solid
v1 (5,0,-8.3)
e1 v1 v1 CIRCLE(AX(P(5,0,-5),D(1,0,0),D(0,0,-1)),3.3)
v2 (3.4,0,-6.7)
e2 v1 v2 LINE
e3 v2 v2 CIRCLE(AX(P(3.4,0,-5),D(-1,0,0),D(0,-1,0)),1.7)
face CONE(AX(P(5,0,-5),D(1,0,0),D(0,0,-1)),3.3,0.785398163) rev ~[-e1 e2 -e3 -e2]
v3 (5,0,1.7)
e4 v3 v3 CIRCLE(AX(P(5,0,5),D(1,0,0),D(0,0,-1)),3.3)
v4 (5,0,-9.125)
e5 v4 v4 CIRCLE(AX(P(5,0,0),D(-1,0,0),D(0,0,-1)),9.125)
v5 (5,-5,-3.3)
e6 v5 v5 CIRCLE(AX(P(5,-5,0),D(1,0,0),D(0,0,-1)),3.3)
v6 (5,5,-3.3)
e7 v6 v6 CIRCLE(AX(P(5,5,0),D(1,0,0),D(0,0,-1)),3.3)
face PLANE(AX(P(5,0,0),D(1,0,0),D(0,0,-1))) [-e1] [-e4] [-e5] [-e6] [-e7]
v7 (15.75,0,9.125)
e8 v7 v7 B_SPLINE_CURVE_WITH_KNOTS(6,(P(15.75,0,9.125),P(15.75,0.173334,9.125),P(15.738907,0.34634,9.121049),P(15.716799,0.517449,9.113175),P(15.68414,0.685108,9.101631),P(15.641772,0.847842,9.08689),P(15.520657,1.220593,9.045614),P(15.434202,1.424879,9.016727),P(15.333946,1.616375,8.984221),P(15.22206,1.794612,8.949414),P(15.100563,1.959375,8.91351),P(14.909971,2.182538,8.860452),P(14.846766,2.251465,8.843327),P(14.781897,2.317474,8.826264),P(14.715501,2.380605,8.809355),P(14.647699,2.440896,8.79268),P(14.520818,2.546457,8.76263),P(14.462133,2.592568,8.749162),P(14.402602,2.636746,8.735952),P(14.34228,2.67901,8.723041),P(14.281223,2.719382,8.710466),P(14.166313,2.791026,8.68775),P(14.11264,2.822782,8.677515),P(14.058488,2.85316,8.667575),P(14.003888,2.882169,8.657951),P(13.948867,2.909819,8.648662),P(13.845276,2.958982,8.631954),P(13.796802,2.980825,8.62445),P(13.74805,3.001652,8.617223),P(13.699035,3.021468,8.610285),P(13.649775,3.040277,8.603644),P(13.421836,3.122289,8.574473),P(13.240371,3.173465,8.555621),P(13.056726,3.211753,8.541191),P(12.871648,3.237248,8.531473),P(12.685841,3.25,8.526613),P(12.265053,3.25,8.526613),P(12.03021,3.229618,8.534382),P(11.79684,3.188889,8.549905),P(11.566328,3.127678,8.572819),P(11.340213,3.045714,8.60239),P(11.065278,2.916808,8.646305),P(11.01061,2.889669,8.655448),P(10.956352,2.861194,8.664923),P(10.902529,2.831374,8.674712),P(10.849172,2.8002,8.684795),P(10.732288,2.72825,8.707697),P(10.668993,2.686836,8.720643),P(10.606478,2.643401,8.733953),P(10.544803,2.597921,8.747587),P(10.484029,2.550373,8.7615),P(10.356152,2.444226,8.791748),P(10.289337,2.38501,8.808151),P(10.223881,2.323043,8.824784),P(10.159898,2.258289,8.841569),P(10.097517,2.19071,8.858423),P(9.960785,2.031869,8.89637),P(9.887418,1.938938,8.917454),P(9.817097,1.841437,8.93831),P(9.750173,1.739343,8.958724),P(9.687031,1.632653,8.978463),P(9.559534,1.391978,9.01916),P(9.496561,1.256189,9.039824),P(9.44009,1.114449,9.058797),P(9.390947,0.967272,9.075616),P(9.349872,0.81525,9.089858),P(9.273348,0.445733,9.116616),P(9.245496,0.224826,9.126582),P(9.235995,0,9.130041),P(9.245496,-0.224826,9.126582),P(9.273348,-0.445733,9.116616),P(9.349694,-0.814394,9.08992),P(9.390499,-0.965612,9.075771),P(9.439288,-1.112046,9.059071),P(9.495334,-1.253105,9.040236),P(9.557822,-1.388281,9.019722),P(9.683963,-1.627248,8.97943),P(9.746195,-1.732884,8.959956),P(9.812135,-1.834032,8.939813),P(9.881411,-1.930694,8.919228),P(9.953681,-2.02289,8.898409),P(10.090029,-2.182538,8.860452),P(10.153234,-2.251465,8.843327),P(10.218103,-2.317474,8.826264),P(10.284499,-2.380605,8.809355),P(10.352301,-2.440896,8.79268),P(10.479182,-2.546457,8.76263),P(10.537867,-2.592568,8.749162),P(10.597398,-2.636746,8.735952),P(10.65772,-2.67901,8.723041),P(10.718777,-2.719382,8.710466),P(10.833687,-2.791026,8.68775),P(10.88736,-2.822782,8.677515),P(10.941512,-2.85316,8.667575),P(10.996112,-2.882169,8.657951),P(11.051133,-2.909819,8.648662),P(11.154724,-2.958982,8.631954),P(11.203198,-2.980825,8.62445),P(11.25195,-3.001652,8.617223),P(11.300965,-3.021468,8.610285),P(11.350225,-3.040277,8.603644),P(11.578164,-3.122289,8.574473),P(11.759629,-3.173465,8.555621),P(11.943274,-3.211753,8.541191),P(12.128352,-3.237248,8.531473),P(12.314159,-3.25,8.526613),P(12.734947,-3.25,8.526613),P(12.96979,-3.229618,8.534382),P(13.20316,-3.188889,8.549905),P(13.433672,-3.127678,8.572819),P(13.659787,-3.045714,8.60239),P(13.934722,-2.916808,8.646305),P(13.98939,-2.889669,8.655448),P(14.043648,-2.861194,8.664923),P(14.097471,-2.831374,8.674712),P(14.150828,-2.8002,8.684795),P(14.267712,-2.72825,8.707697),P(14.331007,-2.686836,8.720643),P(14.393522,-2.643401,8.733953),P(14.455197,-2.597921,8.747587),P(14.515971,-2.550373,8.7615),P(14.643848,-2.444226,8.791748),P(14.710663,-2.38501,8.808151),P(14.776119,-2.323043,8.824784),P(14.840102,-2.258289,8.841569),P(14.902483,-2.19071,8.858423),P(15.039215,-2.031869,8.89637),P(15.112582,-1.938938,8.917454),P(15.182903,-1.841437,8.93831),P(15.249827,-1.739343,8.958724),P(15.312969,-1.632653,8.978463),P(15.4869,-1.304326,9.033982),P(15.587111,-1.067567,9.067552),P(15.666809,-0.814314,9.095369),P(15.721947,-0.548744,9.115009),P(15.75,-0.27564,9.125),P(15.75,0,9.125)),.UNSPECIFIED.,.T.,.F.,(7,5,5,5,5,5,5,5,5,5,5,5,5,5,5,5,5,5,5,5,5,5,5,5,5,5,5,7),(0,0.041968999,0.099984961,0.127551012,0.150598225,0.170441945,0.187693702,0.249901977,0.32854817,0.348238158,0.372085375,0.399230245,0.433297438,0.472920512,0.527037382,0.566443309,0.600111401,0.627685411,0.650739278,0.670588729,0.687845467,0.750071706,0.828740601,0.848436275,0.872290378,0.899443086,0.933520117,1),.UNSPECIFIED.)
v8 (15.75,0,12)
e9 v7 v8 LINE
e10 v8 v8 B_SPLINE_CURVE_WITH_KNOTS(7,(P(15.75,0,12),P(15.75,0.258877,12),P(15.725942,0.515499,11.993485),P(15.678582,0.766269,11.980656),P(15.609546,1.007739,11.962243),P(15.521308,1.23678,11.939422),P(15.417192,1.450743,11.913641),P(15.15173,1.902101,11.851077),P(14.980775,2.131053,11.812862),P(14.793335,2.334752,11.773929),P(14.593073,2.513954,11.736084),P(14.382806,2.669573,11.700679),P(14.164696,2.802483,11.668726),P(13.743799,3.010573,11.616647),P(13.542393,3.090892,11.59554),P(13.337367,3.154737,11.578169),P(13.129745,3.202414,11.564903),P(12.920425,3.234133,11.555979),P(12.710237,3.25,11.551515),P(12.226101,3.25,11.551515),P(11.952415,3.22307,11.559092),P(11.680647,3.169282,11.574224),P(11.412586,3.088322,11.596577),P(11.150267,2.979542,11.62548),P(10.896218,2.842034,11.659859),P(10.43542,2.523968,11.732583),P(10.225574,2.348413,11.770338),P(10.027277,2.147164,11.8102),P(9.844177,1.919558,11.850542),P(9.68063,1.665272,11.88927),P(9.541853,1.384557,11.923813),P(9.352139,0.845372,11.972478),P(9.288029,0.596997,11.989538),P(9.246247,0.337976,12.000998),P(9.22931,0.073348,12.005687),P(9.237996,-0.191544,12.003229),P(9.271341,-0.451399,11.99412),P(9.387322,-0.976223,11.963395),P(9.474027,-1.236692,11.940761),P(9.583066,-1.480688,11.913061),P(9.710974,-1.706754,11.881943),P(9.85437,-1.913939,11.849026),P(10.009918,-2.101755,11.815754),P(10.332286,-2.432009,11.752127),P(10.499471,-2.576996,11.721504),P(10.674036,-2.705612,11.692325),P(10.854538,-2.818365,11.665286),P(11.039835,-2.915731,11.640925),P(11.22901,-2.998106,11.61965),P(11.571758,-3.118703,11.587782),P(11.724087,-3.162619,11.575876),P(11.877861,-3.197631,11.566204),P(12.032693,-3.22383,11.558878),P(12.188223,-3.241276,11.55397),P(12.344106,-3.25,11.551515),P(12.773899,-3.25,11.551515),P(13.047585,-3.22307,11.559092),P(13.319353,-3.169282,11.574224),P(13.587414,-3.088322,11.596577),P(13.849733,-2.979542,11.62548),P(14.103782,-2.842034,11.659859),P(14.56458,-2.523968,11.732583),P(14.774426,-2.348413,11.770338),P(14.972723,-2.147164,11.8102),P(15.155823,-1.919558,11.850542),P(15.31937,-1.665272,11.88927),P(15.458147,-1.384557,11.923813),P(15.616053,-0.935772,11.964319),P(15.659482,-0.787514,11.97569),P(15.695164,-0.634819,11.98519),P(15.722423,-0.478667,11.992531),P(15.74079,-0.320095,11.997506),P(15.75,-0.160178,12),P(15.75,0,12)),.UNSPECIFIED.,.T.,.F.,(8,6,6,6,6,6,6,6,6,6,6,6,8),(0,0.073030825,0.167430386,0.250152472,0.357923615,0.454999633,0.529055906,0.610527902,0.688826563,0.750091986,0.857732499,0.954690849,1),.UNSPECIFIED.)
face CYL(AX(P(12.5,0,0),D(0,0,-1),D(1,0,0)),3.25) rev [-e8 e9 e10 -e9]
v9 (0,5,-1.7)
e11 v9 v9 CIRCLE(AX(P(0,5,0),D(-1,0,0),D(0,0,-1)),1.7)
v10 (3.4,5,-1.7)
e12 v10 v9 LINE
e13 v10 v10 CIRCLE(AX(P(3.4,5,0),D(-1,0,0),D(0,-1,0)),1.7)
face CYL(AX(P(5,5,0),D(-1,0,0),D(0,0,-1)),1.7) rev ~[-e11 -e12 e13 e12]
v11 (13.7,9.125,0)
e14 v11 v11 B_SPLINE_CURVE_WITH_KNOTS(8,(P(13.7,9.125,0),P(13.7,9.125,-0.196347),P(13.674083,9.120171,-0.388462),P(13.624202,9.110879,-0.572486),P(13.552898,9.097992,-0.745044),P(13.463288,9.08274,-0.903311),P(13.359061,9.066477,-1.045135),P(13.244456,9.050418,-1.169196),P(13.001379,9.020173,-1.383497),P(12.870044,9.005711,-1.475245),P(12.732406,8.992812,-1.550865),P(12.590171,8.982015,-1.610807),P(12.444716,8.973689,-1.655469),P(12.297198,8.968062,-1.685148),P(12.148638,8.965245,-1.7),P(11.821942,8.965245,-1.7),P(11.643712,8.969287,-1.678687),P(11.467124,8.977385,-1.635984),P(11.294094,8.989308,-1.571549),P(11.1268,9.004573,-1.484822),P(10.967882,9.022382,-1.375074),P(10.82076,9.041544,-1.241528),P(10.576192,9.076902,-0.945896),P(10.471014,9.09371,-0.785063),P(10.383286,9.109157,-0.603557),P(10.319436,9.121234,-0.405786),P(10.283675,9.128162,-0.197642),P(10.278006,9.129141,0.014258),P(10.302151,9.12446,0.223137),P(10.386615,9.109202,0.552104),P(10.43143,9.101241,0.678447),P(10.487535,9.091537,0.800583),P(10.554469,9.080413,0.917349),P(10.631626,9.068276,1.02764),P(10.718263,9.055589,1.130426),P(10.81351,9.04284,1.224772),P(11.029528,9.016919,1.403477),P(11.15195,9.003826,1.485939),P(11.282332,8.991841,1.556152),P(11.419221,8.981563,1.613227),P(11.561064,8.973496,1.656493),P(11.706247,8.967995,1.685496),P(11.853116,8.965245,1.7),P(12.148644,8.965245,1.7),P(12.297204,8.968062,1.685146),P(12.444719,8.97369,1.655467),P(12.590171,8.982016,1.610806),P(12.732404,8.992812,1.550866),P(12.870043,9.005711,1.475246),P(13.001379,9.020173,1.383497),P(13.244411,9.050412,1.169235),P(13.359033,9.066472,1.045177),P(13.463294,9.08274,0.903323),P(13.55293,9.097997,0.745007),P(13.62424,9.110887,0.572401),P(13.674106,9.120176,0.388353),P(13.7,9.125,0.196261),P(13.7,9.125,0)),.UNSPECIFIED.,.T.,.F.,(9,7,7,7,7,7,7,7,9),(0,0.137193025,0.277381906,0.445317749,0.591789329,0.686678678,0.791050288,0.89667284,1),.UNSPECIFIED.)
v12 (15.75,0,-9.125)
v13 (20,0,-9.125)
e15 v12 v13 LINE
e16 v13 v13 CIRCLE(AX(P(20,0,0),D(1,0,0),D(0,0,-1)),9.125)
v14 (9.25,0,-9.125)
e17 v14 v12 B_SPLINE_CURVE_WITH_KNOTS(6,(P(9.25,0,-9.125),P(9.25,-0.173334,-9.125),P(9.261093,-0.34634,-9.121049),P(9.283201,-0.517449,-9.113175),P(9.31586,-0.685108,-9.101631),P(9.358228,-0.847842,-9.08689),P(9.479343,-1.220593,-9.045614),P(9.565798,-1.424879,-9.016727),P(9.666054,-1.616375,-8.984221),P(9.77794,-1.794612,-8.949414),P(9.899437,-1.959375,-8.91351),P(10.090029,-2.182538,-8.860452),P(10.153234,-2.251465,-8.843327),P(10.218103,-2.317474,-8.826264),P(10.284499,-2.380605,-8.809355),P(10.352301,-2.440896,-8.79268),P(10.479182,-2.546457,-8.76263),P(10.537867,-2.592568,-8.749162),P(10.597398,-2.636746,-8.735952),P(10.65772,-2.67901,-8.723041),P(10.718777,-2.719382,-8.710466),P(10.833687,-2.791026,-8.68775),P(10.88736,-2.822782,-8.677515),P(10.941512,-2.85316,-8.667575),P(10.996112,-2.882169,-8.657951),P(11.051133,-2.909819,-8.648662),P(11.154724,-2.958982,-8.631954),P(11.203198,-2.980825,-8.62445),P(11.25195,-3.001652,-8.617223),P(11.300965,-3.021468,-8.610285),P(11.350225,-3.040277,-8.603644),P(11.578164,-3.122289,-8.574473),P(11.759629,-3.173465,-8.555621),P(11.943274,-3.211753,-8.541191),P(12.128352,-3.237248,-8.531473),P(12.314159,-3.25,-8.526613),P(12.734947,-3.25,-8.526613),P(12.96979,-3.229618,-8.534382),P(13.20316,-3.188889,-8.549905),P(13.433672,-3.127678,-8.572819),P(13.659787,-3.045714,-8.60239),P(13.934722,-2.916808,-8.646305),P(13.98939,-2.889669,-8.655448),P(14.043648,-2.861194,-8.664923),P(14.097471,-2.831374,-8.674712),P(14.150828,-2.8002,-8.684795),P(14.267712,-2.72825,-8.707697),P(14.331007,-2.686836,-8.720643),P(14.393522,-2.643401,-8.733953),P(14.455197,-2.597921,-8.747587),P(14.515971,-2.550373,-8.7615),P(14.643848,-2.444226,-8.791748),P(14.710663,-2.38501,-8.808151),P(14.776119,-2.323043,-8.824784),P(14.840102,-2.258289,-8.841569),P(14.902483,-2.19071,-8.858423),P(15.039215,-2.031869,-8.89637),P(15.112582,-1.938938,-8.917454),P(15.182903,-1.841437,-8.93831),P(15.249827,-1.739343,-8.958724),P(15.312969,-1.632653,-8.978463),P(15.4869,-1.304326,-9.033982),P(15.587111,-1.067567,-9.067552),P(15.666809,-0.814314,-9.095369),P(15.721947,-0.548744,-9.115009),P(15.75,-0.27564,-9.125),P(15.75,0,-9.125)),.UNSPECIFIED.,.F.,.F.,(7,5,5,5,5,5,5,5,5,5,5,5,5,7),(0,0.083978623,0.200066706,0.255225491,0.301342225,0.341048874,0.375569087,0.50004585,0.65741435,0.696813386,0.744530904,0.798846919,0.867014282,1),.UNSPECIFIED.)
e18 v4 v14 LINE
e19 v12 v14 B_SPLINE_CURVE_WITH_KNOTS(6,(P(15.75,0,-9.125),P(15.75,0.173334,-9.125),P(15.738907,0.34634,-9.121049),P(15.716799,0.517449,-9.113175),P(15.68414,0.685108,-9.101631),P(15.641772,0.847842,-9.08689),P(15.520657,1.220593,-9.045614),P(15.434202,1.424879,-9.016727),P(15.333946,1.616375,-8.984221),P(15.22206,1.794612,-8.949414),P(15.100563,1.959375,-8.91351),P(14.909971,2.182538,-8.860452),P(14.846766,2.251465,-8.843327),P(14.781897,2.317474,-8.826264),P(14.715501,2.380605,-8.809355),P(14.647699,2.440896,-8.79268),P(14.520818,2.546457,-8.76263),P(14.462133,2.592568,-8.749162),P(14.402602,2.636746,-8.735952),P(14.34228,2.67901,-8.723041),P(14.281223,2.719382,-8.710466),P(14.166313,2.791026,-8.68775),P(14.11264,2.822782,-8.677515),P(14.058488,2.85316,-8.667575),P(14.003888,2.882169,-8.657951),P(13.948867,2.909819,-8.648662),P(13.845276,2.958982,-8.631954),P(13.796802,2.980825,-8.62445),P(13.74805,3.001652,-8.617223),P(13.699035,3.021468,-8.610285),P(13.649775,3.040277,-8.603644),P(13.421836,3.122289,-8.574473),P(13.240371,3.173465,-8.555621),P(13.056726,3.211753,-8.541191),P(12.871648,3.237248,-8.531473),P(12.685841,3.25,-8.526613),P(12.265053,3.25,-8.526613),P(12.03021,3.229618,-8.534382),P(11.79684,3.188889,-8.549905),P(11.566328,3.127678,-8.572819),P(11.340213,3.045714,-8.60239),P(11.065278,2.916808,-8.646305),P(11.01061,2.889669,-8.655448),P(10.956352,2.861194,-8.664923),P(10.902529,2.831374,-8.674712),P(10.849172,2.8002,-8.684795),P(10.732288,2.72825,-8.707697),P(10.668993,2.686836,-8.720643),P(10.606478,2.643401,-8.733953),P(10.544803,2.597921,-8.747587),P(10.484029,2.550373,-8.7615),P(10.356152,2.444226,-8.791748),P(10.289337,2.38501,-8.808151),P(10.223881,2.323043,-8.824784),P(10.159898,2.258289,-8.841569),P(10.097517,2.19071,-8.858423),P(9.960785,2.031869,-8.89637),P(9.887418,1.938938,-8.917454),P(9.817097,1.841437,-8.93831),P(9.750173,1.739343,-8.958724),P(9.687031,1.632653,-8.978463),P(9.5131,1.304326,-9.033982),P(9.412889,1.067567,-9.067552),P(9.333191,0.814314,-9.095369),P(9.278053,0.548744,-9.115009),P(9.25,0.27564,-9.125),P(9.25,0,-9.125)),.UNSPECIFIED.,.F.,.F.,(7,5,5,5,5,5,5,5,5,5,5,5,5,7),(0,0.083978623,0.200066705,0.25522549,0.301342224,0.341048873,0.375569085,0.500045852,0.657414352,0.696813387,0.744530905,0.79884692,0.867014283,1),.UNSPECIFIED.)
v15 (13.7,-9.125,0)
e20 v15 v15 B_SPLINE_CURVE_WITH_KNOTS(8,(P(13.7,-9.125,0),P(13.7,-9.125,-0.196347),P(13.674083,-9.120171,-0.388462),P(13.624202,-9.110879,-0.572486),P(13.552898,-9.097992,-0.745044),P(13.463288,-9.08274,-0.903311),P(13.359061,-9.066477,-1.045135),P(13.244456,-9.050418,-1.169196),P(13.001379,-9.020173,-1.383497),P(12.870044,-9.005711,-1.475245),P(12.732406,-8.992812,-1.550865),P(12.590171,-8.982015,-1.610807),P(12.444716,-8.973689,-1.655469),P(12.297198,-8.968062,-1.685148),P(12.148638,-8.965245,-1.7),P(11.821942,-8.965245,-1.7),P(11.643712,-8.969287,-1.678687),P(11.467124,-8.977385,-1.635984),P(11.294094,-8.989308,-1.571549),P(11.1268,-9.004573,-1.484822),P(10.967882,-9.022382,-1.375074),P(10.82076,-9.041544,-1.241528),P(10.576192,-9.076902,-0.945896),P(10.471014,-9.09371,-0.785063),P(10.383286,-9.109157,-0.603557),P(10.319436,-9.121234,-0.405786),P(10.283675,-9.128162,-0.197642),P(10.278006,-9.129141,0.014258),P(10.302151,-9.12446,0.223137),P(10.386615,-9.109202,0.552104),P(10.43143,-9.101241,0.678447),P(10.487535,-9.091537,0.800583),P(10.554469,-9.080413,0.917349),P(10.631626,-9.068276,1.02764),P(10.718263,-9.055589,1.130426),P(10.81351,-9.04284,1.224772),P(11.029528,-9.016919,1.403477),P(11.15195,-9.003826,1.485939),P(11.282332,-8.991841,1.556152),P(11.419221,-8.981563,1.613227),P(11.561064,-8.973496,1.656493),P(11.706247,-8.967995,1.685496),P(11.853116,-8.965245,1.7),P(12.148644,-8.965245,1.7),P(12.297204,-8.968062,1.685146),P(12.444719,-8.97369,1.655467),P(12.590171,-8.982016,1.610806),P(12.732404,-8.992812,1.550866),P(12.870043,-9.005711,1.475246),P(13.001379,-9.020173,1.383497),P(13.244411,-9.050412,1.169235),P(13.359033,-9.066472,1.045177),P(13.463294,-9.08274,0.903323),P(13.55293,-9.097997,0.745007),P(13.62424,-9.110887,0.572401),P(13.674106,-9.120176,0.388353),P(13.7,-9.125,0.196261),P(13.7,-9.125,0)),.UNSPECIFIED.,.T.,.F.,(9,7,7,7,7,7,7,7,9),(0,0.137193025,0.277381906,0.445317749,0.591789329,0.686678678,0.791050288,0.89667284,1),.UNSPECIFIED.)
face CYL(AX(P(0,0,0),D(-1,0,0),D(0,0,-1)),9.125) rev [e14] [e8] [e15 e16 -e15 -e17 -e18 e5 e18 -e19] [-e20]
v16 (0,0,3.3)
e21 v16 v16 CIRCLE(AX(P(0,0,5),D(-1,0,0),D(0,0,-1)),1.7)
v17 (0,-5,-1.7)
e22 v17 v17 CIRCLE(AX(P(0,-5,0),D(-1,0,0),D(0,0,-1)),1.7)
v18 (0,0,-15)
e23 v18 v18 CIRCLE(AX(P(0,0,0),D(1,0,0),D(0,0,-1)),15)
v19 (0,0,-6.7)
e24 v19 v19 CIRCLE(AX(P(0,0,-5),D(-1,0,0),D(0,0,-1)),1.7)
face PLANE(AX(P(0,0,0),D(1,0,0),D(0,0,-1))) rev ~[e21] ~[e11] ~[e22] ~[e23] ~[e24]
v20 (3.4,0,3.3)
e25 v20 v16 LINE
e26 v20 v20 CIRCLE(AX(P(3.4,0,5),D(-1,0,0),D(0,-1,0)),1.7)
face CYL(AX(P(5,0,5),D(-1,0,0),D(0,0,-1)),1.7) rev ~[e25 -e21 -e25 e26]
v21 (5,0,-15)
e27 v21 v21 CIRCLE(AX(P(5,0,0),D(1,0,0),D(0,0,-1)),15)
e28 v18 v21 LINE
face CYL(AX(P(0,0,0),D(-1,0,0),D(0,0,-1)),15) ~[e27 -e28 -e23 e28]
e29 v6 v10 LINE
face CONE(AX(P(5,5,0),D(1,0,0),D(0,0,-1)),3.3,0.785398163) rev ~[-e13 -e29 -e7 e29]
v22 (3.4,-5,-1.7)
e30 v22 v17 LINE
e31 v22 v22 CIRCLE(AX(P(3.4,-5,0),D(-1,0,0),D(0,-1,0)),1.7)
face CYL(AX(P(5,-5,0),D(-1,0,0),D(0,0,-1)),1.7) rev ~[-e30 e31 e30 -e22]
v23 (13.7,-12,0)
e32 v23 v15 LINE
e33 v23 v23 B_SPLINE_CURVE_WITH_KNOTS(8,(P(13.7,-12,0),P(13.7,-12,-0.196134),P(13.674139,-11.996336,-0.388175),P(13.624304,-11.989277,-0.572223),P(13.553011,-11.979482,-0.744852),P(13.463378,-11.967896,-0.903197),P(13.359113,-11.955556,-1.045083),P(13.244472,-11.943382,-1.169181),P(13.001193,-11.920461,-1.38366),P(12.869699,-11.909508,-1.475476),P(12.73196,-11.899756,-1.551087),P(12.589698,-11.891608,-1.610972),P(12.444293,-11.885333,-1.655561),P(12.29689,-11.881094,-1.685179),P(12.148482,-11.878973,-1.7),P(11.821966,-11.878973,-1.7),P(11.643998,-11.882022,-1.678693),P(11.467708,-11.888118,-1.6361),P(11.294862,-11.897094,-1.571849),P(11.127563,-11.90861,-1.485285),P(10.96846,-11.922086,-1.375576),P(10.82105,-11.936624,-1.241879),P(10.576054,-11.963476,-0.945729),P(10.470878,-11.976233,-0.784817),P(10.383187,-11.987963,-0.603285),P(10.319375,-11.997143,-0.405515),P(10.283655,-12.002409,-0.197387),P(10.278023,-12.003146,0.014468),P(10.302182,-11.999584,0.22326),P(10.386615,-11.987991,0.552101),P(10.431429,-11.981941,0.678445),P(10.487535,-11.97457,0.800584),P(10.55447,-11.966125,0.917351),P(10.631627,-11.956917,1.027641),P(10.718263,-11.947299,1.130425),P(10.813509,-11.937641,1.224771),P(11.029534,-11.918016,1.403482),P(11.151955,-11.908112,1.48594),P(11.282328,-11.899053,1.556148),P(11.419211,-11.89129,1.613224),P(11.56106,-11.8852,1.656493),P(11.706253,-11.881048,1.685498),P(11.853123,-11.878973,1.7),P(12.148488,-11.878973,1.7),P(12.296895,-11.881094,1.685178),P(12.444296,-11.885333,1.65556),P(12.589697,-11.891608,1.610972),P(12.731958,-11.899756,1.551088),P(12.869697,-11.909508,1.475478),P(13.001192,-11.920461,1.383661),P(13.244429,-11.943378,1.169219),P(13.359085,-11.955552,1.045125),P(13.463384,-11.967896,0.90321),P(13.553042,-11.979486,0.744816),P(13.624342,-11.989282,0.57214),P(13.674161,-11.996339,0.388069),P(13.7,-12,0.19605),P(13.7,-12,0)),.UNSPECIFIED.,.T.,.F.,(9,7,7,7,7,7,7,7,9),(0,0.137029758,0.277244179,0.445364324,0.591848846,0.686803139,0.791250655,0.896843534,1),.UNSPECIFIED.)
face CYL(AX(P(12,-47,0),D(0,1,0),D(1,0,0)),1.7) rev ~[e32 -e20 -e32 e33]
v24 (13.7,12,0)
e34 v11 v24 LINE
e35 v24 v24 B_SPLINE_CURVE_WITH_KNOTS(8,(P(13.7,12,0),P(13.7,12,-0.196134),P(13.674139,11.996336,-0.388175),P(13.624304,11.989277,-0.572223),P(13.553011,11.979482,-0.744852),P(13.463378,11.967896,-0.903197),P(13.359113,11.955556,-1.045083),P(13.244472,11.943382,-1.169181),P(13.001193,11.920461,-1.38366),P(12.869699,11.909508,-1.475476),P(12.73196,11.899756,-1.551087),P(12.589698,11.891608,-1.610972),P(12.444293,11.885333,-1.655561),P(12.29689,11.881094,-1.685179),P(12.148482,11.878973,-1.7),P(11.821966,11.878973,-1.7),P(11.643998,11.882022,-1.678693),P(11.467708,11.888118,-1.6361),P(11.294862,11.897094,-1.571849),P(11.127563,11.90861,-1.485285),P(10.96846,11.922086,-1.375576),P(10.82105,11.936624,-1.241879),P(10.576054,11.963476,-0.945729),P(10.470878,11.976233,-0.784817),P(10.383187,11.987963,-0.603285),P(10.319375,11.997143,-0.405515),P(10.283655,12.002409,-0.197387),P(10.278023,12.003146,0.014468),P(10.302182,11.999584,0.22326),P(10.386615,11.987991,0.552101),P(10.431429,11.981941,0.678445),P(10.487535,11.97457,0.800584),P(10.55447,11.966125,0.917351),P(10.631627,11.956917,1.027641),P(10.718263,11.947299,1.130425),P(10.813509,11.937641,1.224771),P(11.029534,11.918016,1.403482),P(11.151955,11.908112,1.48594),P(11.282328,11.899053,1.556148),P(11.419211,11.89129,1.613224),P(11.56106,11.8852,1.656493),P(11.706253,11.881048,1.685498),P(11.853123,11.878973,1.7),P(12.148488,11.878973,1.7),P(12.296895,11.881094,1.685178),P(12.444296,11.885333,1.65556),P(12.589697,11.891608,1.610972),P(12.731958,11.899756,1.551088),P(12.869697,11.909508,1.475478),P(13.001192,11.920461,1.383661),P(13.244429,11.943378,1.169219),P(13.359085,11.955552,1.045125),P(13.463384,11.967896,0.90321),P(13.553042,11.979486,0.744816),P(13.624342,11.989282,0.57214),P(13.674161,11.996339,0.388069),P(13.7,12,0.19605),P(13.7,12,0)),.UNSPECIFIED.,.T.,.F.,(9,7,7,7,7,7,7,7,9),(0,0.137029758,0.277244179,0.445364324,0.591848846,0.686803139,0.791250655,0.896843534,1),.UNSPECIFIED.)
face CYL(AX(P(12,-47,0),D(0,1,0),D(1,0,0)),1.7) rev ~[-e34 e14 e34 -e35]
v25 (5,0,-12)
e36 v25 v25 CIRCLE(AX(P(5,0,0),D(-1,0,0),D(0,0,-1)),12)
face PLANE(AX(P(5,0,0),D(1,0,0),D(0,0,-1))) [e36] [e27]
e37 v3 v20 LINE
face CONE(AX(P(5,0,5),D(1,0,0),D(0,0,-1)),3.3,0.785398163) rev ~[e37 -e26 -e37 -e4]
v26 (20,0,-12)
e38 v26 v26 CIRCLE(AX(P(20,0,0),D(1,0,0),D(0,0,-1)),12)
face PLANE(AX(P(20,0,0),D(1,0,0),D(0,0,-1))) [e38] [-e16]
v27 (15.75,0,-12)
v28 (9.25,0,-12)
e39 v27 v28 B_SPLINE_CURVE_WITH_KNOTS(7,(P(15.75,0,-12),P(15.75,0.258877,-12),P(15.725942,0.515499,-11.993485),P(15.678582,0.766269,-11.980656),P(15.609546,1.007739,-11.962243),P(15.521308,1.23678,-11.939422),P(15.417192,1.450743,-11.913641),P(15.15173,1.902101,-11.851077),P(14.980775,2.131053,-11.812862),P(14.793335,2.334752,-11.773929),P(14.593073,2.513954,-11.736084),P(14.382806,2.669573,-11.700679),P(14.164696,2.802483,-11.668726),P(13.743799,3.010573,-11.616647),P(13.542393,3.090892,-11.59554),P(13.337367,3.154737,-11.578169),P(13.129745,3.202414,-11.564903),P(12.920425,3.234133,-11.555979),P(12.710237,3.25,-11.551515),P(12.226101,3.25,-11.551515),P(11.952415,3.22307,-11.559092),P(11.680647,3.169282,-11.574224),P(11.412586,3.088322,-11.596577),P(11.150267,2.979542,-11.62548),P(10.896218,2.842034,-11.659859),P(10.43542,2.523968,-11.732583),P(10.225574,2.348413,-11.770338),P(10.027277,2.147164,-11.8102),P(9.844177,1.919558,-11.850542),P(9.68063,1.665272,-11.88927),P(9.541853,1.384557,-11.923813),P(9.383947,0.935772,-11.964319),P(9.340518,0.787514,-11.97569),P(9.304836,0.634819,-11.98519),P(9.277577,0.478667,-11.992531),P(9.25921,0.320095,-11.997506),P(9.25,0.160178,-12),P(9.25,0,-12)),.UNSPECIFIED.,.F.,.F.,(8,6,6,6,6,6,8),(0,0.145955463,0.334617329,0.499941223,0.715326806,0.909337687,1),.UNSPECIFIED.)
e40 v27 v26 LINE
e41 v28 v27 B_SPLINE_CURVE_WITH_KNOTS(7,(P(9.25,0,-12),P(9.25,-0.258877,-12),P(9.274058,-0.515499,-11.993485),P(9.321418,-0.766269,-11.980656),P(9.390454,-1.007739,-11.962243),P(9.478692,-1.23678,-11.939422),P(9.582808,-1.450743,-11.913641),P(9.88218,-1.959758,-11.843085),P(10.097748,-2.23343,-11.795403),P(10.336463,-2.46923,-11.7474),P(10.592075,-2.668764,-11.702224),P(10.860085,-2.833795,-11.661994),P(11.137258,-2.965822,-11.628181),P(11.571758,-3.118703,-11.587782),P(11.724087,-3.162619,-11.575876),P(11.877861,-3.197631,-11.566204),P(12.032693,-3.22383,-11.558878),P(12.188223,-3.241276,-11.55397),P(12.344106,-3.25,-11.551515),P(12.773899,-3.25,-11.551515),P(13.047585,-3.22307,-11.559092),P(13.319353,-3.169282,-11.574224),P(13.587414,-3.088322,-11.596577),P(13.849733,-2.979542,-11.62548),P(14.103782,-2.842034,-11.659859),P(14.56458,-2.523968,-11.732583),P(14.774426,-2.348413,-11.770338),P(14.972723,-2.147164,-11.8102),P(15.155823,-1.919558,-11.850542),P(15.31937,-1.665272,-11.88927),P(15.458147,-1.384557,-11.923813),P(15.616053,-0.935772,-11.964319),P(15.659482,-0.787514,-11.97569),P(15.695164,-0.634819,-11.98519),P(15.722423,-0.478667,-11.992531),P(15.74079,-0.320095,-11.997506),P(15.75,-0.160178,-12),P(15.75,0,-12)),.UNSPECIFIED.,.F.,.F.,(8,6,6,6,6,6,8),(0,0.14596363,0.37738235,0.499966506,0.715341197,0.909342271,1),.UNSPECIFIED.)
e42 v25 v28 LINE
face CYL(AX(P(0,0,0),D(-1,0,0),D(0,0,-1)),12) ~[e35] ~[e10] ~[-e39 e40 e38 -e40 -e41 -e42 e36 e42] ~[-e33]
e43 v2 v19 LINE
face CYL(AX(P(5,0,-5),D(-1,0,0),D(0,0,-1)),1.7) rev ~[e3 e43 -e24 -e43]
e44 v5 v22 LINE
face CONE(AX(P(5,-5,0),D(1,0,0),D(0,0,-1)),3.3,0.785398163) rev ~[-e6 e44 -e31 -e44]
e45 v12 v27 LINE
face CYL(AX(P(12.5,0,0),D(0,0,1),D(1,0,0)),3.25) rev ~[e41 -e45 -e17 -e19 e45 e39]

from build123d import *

# Parameters (mm, degrees)
SKETCH_1_R                   = 15
EXTRUDE_1_DEPTH              = 5
SKETCH_1_5_R                 = 12
SKETCH_1_5_R_2               = 9.125
EXTRUDE_2_DEPTH              = 20
HOLE_WIZARD_M3_1_D           = 3.4
HOLE_WIZARD_M3_1_CSINK_D     = 6.6
HOLE_WIZARD_M3_1_CSINK_ANGLE = 90
SKETCH1_R                    = 3.25
CUT_EXTRUDE1_DEPTH           = 16
CUT_EXTRUDE1_DEPTH_BACK      = 16
M3_CLEARANCE_HOLE1_D         = 3.4
M3_CLEARANCE_HOLE1_DEPTH     = 35
M3_CLEARANCE_HOLE1_TIP       = 1.021463052


with BuildPart() as part:
    # 草图1 → 凸台-拉伸1 (new body)
    with BuildSketch(Plane(origin=(0, 0, 0), x_dir=(0, 0, -1), z_dir=(1, 0, 0))):
        Circle(SKETCH_1_R)
    extrude(amount=EXTRUDE_1_DEPTH)

    # 草图1<5> → 凸台-拉伸2 (add)
    with BuildSketch(Plane(origin=(0, 0, 0), x_dir=(0, 0, -1), z_dir=(1, 0, 0))):
        Circle(SKETCH_1_5_R)
        Circle(SKETCH_1_5_R_2, mode=Mode.SUBTRACT)
    extrude(amount=EXTRUDE_2_DEPTH)

    # M3 十字槽沉头木螺钉的锥形沉头孔1 (through all)
    with Locations(Plane(origin=(5, 0, 0), x_dir=(0, 0, 1), z_dir=(1, 0, 0))):
        with Locations((0, -5), (-5, 0), (0, 5), (5, 0)):
            CounterSinkHole(HOLE_WIZARD_M3_1_D / 2, HOLE_WIZARD_M3_1_CSINK_D / 2, counter_sink_angle=HOLE_WIZARD_M3_1_CSINK_ANGLE)

    # Sketch1 → Cut-Extrude1 (cut, two sides)
    with BuildSketch(Plane.XY) as cut_extrude1_sk:
        with Locations((12.5, 0)):
            Circle(SKETCH1_R)
    extrude(amount=CUT_EXTRUDE1_DEPTH, mode=Mode.SUBTRACT)
    extrude(cut_extrude1_sk.sketch, amount=-CUT_EXTRUDE1_DEPTH_BACK, mode=Mode.SUBTRACT)

    # M3 Clearance Hole1
    with Locations(Plane(origin=(0, -12, 0), x_dir=(-1, 0, 0), z_dir=(0, -1, 0))):
        with Locations((-12, 0)):
            Hole(M3_CLEARANCE_HOLE1_D / 2, depth=M3_CLEARANCE_HOLE1_DEPTH)
            with Locations((0, 0, -(M3_CLEARANCE_HOLE1_DEPTH + M3_CLEARANCE_HOLE1_TIP / 2))):  # 118° drill point
                Cone(0, M3_CLEARANCE_HOLE1_D / 2, M3_CLEARANCE_HOLE1_TIP, mode=Mode.SUBTRACT)


solid = part.part
